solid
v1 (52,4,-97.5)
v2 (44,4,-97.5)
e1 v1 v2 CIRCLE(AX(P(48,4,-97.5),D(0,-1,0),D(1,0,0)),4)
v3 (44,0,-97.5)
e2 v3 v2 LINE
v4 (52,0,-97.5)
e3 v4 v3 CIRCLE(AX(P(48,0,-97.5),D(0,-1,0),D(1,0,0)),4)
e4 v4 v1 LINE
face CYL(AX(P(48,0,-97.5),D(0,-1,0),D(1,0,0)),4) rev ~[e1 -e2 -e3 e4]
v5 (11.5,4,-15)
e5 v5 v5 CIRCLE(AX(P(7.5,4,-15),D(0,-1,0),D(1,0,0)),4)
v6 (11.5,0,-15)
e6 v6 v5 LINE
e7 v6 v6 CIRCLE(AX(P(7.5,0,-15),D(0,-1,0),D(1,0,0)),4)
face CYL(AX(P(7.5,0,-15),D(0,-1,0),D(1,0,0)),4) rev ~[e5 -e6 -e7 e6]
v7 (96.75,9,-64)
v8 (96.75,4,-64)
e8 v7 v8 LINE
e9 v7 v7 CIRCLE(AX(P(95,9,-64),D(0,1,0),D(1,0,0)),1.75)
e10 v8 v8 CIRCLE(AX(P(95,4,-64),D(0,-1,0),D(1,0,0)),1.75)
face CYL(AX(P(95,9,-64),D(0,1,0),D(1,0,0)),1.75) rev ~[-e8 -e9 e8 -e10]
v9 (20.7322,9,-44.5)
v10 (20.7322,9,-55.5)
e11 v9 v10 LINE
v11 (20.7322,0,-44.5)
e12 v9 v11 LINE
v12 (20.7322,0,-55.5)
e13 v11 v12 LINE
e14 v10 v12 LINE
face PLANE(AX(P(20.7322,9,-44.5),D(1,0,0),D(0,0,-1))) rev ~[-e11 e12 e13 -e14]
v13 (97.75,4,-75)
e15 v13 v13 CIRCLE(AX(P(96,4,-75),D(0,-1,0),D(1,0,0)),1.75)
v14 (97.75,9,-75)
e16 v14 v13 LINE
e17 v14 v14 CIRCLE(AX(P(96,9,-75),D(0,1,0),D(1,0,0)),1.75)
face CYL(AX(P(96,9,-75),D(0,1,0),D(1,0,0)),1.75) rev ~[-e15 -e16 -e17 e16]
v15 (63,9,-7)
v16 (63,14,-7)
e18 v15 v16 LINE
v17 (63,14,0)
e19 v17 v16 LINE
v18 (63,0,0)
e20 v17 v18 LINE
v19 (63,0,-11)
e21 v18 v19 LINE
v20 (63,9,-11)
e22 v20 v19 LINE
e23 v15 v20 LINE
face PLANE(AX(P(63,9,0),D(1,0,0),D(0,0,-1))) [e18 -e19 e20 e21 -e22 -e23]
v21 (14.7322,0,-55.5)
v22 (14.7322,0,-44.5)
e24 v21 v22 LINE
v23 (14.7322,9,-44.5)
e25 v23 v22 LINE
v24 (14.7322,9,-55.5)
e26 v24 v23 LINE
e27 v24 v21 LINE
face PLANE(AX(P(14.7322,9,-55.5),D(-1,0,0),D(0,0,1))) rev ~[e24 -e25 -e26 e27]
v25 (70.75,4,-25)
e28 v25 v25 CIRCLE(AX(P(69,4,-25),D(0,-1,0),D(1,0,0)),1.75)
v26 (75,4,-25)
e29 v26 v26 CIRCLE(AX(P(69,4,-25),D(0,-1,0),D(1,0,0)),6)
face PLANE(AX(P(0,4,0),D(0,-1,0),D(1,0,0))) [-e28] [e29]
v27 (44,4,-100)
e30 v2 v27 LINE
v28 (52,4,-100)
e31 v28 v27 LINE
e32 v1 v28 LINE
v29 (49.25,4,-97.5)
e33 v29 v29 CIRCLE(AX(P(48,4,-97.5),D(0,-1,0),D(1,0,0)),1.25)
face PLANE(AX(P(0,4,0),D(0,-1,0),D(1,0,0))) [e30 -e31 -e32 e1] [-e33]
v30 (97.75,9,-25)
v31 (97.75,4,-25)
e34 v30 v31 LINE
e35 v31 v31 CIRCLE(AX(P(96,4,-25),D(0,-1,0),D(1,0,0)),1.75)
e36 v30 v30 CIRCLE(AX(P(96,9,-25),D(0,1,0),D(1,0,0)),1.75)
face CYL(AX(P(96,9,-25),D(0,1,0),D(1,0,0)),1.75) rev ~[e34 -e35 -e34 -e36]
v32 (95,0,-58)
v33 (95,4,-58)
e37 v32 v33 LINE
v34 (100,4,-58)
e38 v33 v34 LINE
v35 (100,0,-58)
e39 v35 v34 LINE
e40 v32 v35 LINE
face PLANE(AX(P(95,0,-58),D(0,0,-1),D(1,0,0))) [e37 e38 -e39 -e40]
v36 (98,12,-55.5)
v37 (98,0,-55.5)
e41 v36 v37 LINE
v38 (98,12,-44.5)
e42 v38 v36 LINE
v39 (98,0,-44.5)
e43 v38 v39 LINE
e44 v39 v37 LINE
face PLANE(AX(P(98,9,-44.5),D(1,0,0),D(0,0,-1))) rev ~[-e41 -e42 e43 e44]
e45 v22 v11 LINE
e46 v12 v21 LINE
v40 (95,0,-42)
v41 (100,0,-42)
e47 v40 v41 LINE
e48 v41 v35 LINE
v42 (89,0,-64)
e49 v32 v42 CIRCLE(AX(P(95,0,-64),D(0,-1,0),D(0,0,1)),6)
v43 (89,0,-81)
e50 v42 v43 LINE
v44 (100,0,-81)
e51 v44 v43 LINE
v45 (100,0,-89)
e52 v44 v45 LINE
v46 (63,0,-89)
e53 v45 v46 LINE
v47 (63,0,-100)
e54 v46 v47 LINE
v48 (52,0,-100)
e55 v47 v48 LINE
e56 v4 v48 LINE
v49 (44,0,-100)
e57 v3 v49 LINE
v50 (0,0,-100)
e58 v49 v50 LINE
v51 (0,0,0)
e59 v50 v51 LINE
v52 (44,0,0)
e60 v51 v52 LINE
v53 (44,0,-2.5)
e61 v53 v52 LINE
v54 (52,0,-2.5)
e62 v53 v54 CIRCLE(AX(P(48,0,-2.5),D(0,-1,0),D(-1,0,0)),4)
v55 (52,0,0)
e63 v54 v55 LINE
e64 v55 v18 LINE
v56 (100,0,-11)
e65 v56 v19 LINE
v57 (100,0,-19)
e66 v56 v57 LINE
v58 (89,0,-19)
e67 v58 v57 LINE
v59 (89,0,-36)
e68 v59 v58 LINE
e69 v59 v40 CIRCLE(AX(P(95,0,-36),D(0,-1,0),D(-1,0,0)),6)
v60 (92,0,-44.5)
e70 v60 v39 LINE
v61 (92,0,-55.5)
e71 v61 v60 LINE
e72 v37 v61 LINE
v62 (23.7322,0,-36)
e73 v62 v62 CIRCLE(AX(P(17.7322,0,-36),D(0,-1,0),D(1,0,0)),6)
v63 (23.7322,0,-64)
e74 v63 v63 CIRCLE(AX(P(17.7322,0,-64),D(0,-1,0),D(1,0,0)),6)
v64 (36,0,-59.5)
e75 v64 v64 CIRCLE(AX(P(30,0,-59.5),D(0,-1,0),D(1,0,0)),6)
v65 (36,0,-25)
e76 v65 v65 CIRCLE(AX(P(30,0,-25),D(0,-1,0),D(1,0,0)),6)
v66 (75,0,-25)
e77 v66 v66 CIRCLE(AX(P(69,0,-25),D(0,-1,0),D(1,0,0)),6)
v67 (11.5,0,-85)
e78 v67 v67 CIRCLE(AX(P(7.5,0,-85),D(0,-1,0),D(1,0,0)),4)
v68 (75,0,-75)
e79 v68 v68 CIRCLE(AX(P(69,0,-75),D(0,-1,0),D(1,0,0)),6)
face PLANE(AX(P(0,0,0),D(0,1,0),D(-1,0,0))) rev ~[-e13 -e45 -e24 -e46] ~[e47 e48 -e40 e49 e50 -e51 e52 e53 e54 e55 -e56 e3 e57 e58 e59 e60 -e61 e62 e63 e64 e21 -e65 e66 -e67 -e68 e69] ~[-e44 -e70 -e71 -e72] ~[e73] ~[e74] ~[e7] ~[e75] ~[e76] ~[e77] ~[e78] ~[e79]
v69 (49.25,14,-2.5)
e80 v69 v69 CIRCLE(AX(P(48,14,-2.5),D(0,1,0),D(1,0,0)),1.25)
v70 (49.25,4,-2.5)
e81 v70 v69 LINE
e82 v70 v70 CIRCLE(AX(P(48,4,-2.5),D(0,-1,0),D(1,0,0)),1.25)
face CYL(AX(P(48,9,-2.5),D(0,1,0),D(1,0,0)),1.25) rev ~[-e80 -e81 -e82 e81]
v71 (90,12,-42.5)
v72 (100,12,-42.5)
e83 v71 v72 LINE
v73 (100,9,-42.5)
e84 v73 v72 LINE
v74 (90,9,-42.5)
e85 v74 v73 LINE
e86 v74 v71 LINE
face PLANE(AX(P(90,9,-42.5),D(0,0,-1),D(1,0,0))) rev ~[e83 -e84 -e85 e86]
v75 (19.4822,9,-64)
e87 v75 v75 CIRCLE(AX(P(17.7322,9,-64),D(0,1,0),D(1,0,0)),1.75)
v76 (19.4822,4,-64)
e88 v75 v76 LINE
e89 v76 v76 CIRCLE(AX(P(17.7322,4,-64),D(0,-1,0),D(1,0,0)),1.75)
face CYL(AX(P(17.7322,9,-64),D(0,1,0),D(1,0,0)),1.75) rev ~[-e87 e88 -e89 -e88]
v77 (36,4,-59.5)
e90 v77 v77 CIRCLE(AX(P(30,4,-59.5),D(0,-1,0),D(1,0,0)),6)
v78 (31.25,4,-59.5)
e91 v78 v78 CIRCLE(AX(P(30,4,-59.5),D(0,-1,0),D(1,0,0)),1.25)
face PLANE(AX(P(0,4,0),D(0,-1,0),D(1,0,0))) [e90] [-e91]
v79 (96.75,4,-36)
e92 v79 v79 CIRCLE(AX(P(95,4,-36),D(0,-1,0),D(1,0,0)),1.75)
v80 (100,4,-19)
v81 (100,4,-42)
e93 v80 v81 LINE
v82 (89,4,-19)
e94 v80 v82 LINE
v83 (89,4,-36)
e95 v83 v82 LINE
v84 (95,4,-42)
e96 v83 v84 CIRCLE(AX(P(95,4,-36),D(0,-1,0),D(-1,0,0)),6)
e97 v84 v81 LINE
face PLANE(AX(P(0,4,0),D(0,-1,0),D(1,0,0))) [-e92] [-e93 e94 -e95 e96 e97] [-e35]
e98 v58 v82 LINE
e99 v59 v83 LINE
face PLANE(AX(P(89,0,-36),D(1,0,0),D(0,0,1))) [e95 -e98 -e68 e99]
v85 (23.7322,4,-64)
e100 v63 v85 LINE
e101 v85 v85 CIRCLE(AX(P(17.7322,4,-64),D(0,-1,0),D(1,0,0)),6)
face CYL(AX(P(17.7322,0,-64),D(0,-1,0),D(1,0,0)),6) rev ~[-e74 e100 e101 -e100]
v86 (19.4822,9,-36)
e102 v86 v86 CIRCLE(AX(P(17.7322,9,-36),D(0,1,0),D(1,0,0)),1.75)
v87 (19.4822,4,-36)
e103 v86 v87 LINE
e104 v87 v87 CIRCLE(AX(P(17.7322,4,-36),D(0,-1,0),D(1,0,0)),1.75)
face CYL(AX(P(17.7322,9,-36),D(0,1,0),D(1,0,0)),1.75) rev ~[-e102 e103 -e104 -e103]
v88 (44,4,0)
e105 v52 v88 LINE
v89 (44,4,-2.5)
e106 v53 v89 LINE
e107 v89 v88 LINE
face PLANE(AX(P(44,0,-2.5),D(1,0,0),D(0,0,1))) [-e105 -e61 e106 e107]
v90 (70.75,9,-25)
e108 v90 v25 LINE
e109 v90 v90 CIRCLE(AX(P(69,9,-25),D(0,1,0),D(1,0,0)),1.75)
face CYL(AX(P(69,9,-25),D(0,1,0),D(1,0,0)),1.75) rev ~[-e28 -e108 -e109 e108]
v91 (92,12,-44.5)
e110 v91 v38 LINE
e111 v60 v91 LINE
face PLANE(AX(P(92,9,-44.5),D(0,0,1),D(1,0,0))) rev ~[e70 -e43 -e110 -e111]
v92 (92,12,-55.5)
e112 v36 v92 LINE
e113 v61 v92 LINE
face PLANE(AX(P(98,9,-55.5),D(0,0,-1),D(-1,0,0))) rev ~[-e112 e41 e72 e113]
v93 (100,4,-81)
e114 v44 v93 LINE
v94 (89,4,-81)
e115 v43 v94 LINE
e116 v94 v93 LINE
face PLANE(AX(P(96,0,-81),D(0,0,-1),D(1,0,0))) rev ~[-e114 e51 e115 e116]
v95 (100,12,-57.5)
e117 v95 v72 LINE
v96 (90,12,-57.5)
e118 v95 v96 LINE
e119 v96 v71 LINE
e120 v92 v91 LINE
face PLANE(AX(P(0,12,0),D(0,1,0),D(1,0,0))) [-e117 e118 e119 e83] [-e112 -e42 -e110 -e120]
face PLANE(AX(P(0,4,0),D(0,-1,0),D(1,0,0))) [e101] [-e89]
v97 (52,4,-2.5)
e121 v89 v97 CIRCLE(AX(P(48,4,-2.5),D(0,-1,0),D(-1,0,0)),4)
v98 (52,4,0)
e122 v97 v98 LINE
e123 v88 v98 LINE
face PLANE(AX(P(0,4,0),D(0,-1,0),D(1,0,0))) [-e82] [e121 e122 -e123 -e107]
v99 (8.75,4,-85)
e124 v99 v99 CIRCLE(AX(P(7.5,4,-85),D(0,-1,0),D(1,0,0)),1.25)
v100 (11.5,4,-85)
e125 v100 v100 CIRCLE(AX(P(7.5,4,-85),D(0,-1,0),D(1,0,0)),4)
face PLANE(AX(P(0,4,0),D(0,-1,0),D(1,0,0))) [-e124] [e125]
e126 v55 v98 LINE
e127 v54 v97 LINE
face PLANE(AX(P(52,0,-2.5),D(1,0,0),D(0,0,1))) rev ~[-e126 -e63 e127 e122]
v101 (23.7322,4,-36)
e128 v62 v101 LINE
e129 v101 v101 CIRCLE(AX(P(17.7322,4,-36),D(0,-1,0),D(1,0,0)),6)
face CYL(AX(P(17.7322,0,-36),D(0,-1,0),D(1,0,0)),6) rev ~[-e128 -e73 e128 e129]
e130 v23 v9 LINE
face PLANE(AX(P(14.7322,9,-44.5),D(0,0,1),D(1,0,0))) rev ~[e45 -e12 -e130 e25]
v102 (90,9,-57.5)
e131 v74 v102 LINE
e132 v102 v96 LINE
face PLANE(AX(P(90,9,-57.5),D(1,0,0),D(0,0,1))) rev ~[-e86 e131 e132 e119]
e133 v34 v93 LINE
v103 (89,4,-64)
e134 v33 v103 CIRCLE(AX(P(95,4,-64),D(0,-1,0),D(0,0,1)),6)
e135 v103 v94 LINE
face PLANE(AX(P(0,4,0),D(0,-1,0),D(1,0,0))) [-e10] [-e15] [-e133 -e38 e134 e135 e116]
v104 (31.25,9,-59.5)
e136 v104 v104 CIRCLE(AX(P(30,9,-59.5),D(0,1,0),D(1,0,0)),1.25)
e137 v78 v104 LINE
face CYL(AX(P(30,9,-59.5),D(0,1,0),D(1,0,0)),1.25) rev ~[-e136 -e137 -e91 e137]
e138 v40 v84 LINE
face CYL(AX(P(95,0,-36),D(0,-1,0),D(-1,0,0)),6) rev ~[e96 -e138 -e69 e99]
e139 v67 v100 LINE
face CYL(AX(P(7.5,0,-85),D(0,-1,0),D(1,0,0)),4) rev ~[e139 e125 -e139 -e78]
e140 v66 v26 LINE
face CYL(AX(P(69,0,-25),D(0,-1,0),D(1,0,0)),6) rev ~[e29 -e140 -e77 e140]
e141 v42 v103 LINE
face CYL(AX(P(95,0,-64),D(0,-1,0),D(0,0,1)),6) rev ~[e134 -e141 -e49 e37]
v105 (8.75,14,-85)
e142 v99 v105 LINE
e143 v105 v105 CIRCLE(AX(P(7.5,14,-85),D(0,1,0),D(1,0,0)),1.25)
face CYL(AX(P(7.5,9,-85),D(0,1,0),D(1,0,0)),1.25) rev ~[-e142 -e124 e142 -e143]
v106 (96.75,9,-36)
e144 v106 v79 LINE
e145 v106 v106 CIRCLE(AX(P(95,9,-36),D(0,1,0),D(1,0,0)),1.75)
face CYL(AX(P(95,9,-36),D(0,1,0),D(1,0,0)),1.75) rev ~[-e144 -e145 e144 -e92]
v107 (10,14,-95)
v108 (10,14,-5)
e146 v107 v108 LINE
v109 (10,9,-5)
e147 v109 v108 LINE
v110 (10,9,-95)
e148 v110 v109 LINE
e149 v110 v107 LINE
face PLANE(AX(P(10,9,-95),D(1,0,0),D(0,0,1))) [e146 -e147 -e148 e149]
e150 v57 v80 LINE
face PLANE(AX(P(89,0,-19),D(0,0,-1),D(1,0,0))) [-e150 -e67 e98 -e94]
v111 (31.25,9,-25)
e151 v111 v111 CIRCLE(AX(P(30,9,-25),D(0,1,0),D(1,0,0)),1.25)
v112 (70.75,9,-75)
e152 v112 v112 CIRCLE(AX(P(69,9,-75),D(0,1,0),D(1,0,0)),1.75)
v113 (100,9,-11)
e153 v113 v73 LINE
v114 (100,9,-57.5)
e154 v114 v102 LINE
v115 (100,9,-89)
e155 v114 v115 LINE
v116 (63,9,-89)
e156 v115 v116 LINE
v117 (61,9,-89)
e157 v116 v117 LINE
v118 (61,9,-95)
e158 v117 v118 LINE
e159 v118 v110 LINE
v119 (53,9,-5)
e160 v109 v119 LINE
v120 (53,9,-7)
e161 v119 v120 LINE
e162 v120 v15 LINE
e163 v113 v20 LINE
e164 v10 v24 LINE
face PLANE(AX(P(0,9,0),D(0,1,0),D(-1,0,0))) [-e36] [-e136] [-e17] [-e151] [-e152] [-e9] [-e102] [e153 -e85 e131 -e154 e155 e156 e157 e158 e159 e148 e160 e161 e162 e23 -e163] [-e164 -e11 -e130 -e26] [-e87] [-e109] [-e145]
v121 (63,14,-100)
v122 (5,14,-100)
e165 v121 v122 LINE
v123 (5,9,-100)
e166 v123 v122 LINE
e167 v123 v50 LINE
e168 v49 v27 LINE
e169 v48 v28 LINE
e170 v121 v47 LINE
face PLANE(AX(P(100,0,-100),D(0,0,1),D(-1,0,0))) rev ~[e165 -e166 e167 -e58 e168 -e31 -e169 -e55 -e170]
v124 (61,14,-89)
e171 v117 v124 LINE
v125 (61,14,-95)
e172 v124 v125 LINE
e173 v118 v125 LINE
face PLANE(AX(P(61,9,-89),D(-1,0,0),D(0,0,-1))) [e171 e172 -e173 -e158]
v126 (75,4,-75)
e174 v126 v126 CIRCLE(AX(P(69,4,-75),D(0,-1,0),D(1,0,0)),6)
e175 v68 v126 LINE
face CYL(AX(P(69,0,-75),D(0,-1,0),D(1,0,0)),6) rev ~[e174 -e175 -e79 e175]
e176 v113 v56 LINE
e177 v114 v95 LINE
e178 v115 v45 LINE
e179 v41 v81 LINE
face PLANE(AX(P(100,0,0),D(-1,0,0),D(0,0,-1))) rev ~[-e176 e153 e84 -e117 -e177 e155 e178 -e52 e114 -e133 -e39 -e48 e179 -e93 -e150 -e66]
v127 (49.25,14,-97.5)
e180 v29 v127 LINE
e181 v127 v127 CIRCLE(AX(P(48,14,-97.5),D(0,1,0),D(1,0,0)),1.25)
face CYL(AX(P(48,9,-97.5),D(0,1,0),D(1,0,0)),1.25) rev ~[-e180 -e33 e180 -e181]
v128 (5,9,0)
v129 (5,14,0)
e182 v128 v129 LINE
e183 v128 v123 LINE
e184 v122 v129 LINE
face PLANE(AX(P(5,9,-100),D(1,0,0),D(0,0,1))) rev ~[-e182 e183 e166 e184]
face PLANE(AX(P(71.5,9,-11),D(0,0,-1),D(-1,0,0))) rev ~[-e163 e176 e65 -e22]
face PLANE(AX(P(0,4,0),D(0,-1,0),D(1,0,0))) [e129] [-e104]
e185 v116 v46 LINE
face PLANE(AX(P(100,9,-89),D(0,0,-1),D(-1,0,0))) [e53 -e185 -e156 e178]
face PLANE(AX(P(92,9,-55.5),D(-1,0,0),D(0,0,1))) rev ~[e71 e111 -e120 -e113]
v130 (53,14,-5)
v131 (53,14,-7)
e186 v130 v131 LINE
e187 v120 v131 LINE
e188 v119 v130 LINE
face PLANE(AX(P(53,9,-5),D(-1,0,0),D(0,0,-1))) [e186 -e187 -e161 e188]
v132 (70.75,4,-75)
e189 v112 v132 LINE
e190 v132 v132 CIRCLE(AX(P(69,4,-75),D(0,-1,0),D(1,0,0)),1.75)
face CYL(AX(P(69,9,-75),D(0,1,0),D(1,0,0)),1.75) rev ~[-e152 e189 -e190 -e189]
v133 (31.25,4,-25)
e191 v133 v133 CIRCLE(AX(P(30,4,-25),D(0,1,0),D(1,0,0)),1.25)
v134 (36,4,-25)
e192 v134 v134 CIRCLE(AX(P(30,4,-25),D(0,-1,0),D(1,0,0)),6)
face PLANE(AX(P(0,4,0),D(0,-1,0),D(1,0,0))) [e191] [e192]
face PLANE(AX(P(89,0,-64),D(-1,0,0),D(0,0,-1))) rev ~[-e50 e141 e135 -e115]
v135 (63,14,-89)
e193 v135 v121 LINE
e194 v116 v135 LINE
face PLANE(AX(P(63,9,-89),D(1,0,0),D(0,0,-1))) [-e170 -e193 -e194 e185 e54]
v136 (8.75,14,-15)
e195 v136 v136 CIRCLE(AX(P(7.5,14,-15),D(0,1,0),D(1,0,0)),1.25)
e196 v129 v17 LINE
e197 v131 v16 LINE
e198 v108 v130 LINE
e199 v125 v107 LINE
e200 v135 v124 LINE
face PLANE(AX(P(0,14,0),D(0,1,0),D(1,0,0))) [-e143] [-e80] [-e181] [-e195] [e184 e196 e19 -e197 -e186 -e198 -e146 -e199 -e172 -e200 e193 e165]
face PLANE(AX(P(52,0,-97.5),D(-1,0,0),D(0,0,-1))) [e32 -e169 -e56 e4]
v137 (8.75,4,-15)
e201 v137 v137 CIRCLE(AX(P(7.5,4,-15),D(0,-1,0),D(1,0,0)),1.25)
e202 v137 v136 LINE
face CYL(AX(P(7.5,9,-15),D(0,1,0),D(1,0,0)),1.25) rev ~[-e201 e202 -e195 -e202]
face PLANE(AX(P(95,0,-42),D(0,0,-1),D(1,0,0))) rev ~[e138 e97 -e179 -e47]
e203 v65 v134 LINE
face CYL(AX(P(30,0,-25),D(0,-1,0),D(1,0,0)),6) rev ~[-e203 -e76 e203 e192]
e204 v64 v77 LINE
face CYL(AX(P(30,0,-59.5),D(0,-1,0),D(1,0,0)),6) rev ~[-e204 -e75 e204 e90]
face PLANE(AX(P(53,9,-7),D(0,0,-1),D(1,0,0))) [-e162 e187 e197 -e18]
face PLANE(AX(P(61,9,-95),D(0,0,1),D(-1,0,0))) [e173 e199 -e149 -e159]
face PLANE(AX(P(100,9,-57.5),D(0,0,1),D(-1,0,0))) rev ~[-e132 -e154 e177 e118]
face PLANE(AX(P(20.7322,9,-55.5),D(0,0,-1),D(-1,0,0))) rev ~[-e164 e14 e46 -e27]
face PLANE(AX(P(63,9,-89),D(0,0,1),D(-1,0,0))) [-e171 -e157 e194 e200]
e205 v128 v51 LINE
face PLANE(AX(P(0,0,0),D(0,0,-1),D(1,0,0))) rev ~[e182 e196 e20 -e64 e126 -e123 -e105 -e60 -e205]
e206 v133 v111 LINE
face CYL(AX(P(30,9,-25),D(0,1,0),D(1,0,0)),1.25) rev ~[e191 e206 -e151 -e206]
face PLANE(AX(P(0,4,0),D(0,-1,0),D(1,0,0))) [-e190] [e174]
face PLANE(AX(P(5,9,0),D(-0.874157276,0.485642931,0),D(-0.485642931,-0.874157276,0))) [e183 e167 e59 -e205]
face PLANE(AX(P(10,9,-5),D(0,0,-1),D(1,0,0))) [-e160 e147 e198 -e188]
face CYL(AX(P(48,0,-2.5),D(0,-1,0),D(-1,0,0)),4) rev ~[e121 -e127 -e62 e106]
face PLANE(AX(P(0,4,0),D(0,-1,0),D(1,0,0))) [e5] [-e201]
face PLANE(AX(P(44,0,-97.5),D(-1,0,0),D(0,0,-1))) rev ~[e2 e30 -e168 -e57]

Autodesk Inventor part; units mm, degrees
ref_plane "YZ Plane" through (0, 0, 0) normal (1, 0, 0) x (0, 1, 0)
ref_plane "XZ Plane" through (0, 0, 0) normal (0, 1, 0) x (-1, 0, 0)
ref_plane "XY Plane" through (0, 0, 0) normal (0, 0, 1) x (1, 0, 0)
sketch "Sketch1" plane through (0, 0, 0) normal (0, 1, 0) x (-1, 0, 0)
  line L0 (0, 0) -> (-100, 0)
  line L1 (-100, 0) -> (-100, -100)
  line L2 (-100, -100) -> (0, -100)
  line L3 (0, -100) -> (0, 0)
  dimension "d0" = 100
  dimension "d1" = 100
extrude "base" add sketch "Sketch1" along normal blind 9
sketch "Sketch2" plane through (0, 9, 0) normal (0, 1, 0) x (1, 0, 0)
  circle A0 centre (96, 25) radius 1.75
  line L0 (100, 0) -> (100, 100) projected
  circle A1 centre (69, 25) radius 1.75
  line L1 (0, 0) -> (100, 0) projected
  line L2 (100, 50) -> (95, 50)
  circle A2 centre (96, 75) radius 1.75
  circle A3 centre (69, 75) radius 1.75
  line L3 (63, 0) -> (63, 100)
  line L4 (100, 100) -> (0, 100) projected
  line L5 (100, 25) -> (100, 11)
  line L6 (100, 11) -> (63, 11)
  line L7 (100, 89) -> (63, 89)
  circle A4 centre (82, 25) radius 17.5
  point P0 (63, 89)
  dimension "d6" = 4
  dimension "d7" = 3.5
  dimension "d9" = 3.5
  dimension "d10" = 27
  dimension "d11" = 25
  dimension "d13" = 37
  dimension "d14" = 14
  dimension "d17" = 35
extrude "wheel space" cut sketch "Sketch2" against normal through all contours A0 | L1 L3 L6 A4 L0 | A4 L6 | L3 L4 L0 L7 | A1 | A2 | A3 picked at (84.4264, 10.3619)
sketch "Sketch3" plane through (0, 0, 0) normal (0, 0, 1) x (1, 0, 0)
  line L0 (63, 9) -> (0, 9) projected
  line L1 (0, 0) -> (0, 9) projected
  line L2 (63, 0) -> (0, 0) projected
  line L3 (5, 9) -> (0, 0)
  dimension "d18" = 5
extrude "ramp" cut sketch "Sketch3" against normal through all
sketch "Sketch4" plane through (0, 9, 0) normal (0, 1, 0) x (1, 0, 0)
  circle A0 centre (69, 75) radius 1.75 projected
  circle A1 centre (96, 25) radius 1.75 projected
  circle A2 centre (96, 75) radius 1.75 projected
  circle A3 centre (69, 25) radius 1.75 projected
  line L0 (5, 100) -> (5, 0) projected
  line L1 (5, 0) -> (63, 0) projected
  line L2 (63, 0) -> (63, 11) projected
  line L3 (63, 11) -> (100, 11) projected
  line L4 (100, 11) -> (100, 89) projected
  line L5 (100, 89) -> (63, 89) projected
  line L6 (63, 89) -> (63, 100) projected
  line L7 (63, 100) -> (5, 100) projected
  line L8 (63, 100) -> (63, 89) projected
  line L9 (61, 95) -> (10, 95)
  line L10 (10, 95) -> (10, 5)
  line L11 (10, 5) -> (63, 5)
  line L12 (63, 11) -> (63, 0) projected
  line L13 (63, 89) -> (61, 89)
  line L14 (61, 89) -> (61, 95)
  line L15 (63, 5) -> (53, 5)
  line L16 (53, 5) -> (53, 7)
  line L17 (53, 7) -> (63, 7)
  line L18 (63, 7) -> (63, 5)
  point P0 (0, 0)
  point P1 (63, 95)
  dimension "d21" = 5
  dimension "d22" = 5
  dimension "d23" = 5
  dimension "d64" = 2
  dimension "d72" = 10
  dimension "d73" = 2
extrude "walls" add sketch "Sketch4" along normal blind 5 contours L7 L6 L13 L14 L9 L10 L11 L2 L1 L0 | L11 L16 L17 L2
sketch "Sketch5" plane through (0, 9, 0) normal (0, 1, 0) x (1, 0, 0)
  line L0 (22.7322, 84.5) -> (12.7322, 84.5)
  line L1 (12.7322, 84.5) -> (12.7322, 44.5)
  line L2 (12.7322, 44.5) -> (22.7322, 44.5)
  line L3 (22.7322, 44.5) -> (22.7322, 84.5)
  line L4 (14.7322, 44.5) -> (20.7322, 44.5)
  line L5 (20.7322, 44.5) -> (20.7322, 55.5)
  line L6 (20.7322, 55.5) -> (14.7322, 55.5)
  line L7 (14.7322, 55.5) -> (14.7322, 44.5)
  line L8 (14.7322, 44.5) -> (20.7322, 55.5) construction
  line L9 (20.7322, 44.5) -> (14.7322, 55.5) construction
  line L10 (10, 5) -> (10, 95) projected
  circle A0 centre (17.7322, 64) radius 1.75
  line L11 (100, 84.5) -> (90, 84.5)
  line L12 (90, 84.5) -> (90, 44.5)
  line L13 (90, 44.5) -> (100, 44.5)
  line L14 (100, 44.5) -> (100, 84.5)
  line L15 (92, 44.5) -> (98, 44.5)
  line L16 (98, 44.5) -> (98, 55.5)
  line L17 (98, 55.5) -> (92, 55.5)
  line L18 (92, 55.5) -> (92, 44.5)
  line L19 (92, 44.5) -> (98, 55.5) construction
  line L20 (98, 44.5) -> (92, 55.5) construction
  circle A1 centre (95, 64) radius 1.75
  circle A2 centre (96, 75) radius 1.75 projected
  line L21 (100, 11) -> (100, 89) projected
  circle A3 centre (95, 36) radius 1.75
  circle A4 centre (17.7322, 36) radius 1.75
  line L22 (100, 57.5) -> (90, 57.5)
  line L23 (90, 57.5) -> (90, 42.5)
  line L24 (90, 42.5) -> (100, 42.5)
  line L25 (100, 42.5) -> (100, 57.5)
  line L26 (100, 57.5) -> (90, 42.5) construction
  line L27 (90, 57.5) -> (100, 42.5) construction
  point P0 (0, 0)
  point P1 (17.7322, 50)
  point P2 (10, 50)
  point P3 (17.7322, 50)
  point P4 (95, 50)
  point P5 (95, 50)
  point P6 (95, 50)
  point P7 (17.7322, 50)
  point P8 (92, 44.5)
  point P9 (98, 44.5)
  point P10 (95, 84.5)
  dimension "d26" = 10
  dimension "d27" = 40
  dimension "d28" = 5.5
  dimension "d29" = 6
  dimension "d30" = 11
  dimension "d31" = 3.5
  dimension "d32" = 14
  dimension "d33" = 10
  dimension "d34" = 40
  dimension "d35" = 5.5
  dimension "d36" = 6
  dimension "d37" = 11
  dimension "d38" = 3.5
  dimension "d39" = 14
  dimension "d60" = 3.5
  dimension "d61" = 14
  dimension "d62" = 3.5
  dimension "d63" = 14
  dimension "d65" = 10
  dimension "d66" = 15
extrude "ir sensor" cut sketch "Sketch5" against normal through all contours L2 L7 L6 L5 | A0 | L13 L18 L17 L16 | A1 | A3 | A4
sketch "Sketch8" plane through (0, 14, 0) normal (0, 1, 0) x (1, 0, 0)
  line L0 (61, 89) -> (63, 89) projected
  line L1 (63, 89) -> (63, 100) projected
  line L2 (63, 100) -> (5, 100) projected
  line L3 (5, 100) -> (5, 0) projected
  line L4 (5, 0) -> (63, 0) projected
  line L5 (63, 0) -> (63, 7) projected
  line L6 (63, 7) -> (53, 7) projected
  line L7 (53, 7) -> (53, 5) projected
  line L8 (53, 5) -> (10, 5) projected
  line L9 (10, 5) -> (10, 95) projected
  line L10 (10, 95) -> (61, 95) projected
  line L11 (61, 95) -> (61, 89) projected
  circle A0 centre (7.5, 85) radius 1.25
  circle A1 centre (7.5, 15) radius 1.25
  circle A2 centre (48, 2.5) radius 1.25
  circle A3 centre (48, 97.5) radius 1.25
  point P0 (0, 0)
  dimension "d82" = 2.5
  dimension "d84" = 2.5
  dimension "d85" = 2.5
  dimension "d87" = 2.5
  dimension "d88" = 15
  dimension "d89" = 15
  dimension "d90" = 15
  dimension "d91" = 2.5
  dimension "d92" = 2.5
  dimension "d93" = 2.5
sketch "Sketch6" plane through (0, 9, 0) normal (0, 1, 0) x (1, 0, 0)
  line L0 (20.7322, 44.5) -> (14.7322, 44.5) projected
  circle A0 centre (17.7322, 64) radius 1.75 projected
  line L1 (53, 5) -> (10, 5) projected
  line L2 (10, 95) -> (61, 95) projected
  circle A1 centre (69, 25) radius 1.75 projected
  circle A2 centre (96, 25) radius 1.75 projected
  circle A3 centre (69, 25) radius 1.75 projected
  circle A4 centre (96, 25) radius 1.75 projected
  line L3 (69, 25) -> (96, 25)
  circle A5 centre (30, 25) radius 1.25
  line L4 (10, 5) -> (10, 95) projected
  circle A6 centre (30, 59.5) radius 1.25
  circle A7 centre (48, 97.5) radius 1.25 projected
  circle A8 centre (48, 2.5) radius 1.25 projected
  circle A9 centre (7.5, 85) radius 1.25 projected
  circle A10 centre (7.5, 15) radius 1.25 projected
  point P0 (0, 0)
  point P1 (63, 5)
  point P2 (63, 95)
  dimension "d75" = 2.5
  dimension "d76" = 20
  dimension "d77" = 20
  dimension "d79" = 2.5
  dimension "d80" = 34.5
extrude "mount holes" cut sketch "Sketch6" against normal through all both and the other way through all contours A5 | A6 | A7 | A8 | A9 | A10
sketch "Sketch7" plane through (0, 0, 0) normal (0, -1, 0) x (1, 0, 0)
  line L0 (92, -44.5) -> (98, -44.5) projected
  line L1 (98, -44.5) -> (98, -55.5) projected
  line L2 (98, -55.5) -> (92, -55.5) projected
  line L3 (92, -55.5) -> (92, -44.5) projected
  circle A0 centre (17.7322, -64) radius 1.75 projected
  circle A1 centre (95, -64) radius 1.75 projected
  line L4 (20.7322, -44.5) -> (20.7322, -55.5) projected
  line L5 (20.7322, -55.5) -> (14.7322, -55.5) projected
  line L6 (14.7322, -55.5) -> (14.7322, -44.5) projected
  line L7 (14.7322, -44.5) -> (20.7322, -44.5) projected
  circle A2 centre (69, -75) radius 1.75 projected
  circle A3 centre (96, -25) radius 1.75 projected
  circle A4 centre (96, -75) radius 1.75 projected
  circle A5 centre (69, -25) radius 1.75 projected
  line L8 (63, -100) -> (63, -89) projected
  line L9 (63, -89) -> (100, -89) projected
  line L10 (100, -11) -> (100, -89) projected
  line L11 (100, -11) -> (63, -11) projected
  line L12 (63, -11) -> (63, 0) projected
  line L13 (0, 0) -> (63, 0) projected
  line L14 (0, -100) -> (0, 0) projected
  line L15 (63, -100) -> (0, -100) projected
  circle A6 centre (69, -75) radius 6
  circle A7 centre (69, -25) radius 1.75 projected
  circle A8 centre (69, -25) radius 6
  circle A9 centre (96, -25) radius 1.75 projected
  circle A10 centre (17.7322, -64) radius 6
  circle A11 centre (95, -36) radius 1.75 projected
  arc A12 (89, -36) -> (95, -42) centre (95, -36) ccw
  line L16 (98, -31) -> (98.3166, -31)
  line L17 (100, -11) -> (100, -89) projected
  line L18 (96, -19) -> (100, -19)
  line L19 (100, -50) -> (98.3161, -50)
  line L20 (95, -42) -> (100, -42)
  circle A13 centre (17.7322, -36) radius 1.75 projected
  circle A14 centre (17.7322, -36) radius 6
  line L21 (92, -19) -> (96, -19)
  line L22 (89, -36) -> (89, -19)
  line L23 (89, -19) -> (92, -19)
  circle A15 centre (96, -75) radius 1.75
  circle A16 centre (96, -75) radius 1.75
  circle A17 centre (95, -64) radius 1.75
  arc A18 (95, -58) -> (89, -64) centre (95, -64) ccw
  line L24 (98, -69) -> (98.3166, -69)
  line L25 (96, -81) -> (100, -81)
  line L26 (95, -58) -> (100, -58)
  line L27 (92, -81) -> (96, -81)
  line L28 (89, -64) -> (89, -81)
  line L29 (89, -81) -> (92, -81)
  circle A19 centre (30, -59.5) radius 1.25 projected
  circle A20 centre (30, -25) radius 1.25 projected
  circle A21 centre (30, -59.5) radius 6
  circle A22 centre (30, -25) radius 6
  circle A23 centre (48, -97.5) radius 1.25 projected
  circle A24 centre (48, -2.5) radius 1.25 projected
  circle A25 centre (7.5, -15) radius 1.25 projected
  circle A26 centre (7.5, -85) radius 1.25 projected
  arc A27 (52, -97.5) -> (44, -97.5) centre (48, -97.5) ccw
  line L30 (44, -97.5) -> (44, -100)
  line L31 (63, -100) -> (5, -100) projected
  line L32 (52, -97.5) -> (52, -100)
  line L33 (44, -2.5) -> (44, 0)
  line L34 (0, 0) -> (63, 0) projected
  line L35 (52, -2.5) -> (52, 0)
  circle A28 centre (7.5, -15) radius 4
  circle A29 centre (7.5, -85) radius 4
  arc A30 (44, -2.5) -> (52, -2.5) centre (48, -2.5) ccw
  point P0 (100, -31)
  point P1 (96, -31)
  point P2 (93.1644, -30.2877)
  point P3 (96, -69)
  point P4 (93.1644, -69.7123)
  dimension "d69" = 12
  dimension "d71" = 12
  dimension "d94" = 8
  dimension "d96" = 8
  dimension "d97" = 8
extrude "mount holes flush" cut sketch "Sketch7" against normal blind 4 contours L15 L30 A27 L32 | L25 L27 L29 L28 A18 L26 L10 | L20 A12 L22 L23 L21 L18 L10 | L13 L35 A30 L33 | A6 | A8 | A10 | A14 | A20 | A21 | A22 | A28 | A29
extrude "Extrusion8" add sketch "Sketch5" along normal blind 3 contours L14 L13 L16 L17 L18 L12 L22 | L21 L24 L23 L13
properties part number "jeff"
